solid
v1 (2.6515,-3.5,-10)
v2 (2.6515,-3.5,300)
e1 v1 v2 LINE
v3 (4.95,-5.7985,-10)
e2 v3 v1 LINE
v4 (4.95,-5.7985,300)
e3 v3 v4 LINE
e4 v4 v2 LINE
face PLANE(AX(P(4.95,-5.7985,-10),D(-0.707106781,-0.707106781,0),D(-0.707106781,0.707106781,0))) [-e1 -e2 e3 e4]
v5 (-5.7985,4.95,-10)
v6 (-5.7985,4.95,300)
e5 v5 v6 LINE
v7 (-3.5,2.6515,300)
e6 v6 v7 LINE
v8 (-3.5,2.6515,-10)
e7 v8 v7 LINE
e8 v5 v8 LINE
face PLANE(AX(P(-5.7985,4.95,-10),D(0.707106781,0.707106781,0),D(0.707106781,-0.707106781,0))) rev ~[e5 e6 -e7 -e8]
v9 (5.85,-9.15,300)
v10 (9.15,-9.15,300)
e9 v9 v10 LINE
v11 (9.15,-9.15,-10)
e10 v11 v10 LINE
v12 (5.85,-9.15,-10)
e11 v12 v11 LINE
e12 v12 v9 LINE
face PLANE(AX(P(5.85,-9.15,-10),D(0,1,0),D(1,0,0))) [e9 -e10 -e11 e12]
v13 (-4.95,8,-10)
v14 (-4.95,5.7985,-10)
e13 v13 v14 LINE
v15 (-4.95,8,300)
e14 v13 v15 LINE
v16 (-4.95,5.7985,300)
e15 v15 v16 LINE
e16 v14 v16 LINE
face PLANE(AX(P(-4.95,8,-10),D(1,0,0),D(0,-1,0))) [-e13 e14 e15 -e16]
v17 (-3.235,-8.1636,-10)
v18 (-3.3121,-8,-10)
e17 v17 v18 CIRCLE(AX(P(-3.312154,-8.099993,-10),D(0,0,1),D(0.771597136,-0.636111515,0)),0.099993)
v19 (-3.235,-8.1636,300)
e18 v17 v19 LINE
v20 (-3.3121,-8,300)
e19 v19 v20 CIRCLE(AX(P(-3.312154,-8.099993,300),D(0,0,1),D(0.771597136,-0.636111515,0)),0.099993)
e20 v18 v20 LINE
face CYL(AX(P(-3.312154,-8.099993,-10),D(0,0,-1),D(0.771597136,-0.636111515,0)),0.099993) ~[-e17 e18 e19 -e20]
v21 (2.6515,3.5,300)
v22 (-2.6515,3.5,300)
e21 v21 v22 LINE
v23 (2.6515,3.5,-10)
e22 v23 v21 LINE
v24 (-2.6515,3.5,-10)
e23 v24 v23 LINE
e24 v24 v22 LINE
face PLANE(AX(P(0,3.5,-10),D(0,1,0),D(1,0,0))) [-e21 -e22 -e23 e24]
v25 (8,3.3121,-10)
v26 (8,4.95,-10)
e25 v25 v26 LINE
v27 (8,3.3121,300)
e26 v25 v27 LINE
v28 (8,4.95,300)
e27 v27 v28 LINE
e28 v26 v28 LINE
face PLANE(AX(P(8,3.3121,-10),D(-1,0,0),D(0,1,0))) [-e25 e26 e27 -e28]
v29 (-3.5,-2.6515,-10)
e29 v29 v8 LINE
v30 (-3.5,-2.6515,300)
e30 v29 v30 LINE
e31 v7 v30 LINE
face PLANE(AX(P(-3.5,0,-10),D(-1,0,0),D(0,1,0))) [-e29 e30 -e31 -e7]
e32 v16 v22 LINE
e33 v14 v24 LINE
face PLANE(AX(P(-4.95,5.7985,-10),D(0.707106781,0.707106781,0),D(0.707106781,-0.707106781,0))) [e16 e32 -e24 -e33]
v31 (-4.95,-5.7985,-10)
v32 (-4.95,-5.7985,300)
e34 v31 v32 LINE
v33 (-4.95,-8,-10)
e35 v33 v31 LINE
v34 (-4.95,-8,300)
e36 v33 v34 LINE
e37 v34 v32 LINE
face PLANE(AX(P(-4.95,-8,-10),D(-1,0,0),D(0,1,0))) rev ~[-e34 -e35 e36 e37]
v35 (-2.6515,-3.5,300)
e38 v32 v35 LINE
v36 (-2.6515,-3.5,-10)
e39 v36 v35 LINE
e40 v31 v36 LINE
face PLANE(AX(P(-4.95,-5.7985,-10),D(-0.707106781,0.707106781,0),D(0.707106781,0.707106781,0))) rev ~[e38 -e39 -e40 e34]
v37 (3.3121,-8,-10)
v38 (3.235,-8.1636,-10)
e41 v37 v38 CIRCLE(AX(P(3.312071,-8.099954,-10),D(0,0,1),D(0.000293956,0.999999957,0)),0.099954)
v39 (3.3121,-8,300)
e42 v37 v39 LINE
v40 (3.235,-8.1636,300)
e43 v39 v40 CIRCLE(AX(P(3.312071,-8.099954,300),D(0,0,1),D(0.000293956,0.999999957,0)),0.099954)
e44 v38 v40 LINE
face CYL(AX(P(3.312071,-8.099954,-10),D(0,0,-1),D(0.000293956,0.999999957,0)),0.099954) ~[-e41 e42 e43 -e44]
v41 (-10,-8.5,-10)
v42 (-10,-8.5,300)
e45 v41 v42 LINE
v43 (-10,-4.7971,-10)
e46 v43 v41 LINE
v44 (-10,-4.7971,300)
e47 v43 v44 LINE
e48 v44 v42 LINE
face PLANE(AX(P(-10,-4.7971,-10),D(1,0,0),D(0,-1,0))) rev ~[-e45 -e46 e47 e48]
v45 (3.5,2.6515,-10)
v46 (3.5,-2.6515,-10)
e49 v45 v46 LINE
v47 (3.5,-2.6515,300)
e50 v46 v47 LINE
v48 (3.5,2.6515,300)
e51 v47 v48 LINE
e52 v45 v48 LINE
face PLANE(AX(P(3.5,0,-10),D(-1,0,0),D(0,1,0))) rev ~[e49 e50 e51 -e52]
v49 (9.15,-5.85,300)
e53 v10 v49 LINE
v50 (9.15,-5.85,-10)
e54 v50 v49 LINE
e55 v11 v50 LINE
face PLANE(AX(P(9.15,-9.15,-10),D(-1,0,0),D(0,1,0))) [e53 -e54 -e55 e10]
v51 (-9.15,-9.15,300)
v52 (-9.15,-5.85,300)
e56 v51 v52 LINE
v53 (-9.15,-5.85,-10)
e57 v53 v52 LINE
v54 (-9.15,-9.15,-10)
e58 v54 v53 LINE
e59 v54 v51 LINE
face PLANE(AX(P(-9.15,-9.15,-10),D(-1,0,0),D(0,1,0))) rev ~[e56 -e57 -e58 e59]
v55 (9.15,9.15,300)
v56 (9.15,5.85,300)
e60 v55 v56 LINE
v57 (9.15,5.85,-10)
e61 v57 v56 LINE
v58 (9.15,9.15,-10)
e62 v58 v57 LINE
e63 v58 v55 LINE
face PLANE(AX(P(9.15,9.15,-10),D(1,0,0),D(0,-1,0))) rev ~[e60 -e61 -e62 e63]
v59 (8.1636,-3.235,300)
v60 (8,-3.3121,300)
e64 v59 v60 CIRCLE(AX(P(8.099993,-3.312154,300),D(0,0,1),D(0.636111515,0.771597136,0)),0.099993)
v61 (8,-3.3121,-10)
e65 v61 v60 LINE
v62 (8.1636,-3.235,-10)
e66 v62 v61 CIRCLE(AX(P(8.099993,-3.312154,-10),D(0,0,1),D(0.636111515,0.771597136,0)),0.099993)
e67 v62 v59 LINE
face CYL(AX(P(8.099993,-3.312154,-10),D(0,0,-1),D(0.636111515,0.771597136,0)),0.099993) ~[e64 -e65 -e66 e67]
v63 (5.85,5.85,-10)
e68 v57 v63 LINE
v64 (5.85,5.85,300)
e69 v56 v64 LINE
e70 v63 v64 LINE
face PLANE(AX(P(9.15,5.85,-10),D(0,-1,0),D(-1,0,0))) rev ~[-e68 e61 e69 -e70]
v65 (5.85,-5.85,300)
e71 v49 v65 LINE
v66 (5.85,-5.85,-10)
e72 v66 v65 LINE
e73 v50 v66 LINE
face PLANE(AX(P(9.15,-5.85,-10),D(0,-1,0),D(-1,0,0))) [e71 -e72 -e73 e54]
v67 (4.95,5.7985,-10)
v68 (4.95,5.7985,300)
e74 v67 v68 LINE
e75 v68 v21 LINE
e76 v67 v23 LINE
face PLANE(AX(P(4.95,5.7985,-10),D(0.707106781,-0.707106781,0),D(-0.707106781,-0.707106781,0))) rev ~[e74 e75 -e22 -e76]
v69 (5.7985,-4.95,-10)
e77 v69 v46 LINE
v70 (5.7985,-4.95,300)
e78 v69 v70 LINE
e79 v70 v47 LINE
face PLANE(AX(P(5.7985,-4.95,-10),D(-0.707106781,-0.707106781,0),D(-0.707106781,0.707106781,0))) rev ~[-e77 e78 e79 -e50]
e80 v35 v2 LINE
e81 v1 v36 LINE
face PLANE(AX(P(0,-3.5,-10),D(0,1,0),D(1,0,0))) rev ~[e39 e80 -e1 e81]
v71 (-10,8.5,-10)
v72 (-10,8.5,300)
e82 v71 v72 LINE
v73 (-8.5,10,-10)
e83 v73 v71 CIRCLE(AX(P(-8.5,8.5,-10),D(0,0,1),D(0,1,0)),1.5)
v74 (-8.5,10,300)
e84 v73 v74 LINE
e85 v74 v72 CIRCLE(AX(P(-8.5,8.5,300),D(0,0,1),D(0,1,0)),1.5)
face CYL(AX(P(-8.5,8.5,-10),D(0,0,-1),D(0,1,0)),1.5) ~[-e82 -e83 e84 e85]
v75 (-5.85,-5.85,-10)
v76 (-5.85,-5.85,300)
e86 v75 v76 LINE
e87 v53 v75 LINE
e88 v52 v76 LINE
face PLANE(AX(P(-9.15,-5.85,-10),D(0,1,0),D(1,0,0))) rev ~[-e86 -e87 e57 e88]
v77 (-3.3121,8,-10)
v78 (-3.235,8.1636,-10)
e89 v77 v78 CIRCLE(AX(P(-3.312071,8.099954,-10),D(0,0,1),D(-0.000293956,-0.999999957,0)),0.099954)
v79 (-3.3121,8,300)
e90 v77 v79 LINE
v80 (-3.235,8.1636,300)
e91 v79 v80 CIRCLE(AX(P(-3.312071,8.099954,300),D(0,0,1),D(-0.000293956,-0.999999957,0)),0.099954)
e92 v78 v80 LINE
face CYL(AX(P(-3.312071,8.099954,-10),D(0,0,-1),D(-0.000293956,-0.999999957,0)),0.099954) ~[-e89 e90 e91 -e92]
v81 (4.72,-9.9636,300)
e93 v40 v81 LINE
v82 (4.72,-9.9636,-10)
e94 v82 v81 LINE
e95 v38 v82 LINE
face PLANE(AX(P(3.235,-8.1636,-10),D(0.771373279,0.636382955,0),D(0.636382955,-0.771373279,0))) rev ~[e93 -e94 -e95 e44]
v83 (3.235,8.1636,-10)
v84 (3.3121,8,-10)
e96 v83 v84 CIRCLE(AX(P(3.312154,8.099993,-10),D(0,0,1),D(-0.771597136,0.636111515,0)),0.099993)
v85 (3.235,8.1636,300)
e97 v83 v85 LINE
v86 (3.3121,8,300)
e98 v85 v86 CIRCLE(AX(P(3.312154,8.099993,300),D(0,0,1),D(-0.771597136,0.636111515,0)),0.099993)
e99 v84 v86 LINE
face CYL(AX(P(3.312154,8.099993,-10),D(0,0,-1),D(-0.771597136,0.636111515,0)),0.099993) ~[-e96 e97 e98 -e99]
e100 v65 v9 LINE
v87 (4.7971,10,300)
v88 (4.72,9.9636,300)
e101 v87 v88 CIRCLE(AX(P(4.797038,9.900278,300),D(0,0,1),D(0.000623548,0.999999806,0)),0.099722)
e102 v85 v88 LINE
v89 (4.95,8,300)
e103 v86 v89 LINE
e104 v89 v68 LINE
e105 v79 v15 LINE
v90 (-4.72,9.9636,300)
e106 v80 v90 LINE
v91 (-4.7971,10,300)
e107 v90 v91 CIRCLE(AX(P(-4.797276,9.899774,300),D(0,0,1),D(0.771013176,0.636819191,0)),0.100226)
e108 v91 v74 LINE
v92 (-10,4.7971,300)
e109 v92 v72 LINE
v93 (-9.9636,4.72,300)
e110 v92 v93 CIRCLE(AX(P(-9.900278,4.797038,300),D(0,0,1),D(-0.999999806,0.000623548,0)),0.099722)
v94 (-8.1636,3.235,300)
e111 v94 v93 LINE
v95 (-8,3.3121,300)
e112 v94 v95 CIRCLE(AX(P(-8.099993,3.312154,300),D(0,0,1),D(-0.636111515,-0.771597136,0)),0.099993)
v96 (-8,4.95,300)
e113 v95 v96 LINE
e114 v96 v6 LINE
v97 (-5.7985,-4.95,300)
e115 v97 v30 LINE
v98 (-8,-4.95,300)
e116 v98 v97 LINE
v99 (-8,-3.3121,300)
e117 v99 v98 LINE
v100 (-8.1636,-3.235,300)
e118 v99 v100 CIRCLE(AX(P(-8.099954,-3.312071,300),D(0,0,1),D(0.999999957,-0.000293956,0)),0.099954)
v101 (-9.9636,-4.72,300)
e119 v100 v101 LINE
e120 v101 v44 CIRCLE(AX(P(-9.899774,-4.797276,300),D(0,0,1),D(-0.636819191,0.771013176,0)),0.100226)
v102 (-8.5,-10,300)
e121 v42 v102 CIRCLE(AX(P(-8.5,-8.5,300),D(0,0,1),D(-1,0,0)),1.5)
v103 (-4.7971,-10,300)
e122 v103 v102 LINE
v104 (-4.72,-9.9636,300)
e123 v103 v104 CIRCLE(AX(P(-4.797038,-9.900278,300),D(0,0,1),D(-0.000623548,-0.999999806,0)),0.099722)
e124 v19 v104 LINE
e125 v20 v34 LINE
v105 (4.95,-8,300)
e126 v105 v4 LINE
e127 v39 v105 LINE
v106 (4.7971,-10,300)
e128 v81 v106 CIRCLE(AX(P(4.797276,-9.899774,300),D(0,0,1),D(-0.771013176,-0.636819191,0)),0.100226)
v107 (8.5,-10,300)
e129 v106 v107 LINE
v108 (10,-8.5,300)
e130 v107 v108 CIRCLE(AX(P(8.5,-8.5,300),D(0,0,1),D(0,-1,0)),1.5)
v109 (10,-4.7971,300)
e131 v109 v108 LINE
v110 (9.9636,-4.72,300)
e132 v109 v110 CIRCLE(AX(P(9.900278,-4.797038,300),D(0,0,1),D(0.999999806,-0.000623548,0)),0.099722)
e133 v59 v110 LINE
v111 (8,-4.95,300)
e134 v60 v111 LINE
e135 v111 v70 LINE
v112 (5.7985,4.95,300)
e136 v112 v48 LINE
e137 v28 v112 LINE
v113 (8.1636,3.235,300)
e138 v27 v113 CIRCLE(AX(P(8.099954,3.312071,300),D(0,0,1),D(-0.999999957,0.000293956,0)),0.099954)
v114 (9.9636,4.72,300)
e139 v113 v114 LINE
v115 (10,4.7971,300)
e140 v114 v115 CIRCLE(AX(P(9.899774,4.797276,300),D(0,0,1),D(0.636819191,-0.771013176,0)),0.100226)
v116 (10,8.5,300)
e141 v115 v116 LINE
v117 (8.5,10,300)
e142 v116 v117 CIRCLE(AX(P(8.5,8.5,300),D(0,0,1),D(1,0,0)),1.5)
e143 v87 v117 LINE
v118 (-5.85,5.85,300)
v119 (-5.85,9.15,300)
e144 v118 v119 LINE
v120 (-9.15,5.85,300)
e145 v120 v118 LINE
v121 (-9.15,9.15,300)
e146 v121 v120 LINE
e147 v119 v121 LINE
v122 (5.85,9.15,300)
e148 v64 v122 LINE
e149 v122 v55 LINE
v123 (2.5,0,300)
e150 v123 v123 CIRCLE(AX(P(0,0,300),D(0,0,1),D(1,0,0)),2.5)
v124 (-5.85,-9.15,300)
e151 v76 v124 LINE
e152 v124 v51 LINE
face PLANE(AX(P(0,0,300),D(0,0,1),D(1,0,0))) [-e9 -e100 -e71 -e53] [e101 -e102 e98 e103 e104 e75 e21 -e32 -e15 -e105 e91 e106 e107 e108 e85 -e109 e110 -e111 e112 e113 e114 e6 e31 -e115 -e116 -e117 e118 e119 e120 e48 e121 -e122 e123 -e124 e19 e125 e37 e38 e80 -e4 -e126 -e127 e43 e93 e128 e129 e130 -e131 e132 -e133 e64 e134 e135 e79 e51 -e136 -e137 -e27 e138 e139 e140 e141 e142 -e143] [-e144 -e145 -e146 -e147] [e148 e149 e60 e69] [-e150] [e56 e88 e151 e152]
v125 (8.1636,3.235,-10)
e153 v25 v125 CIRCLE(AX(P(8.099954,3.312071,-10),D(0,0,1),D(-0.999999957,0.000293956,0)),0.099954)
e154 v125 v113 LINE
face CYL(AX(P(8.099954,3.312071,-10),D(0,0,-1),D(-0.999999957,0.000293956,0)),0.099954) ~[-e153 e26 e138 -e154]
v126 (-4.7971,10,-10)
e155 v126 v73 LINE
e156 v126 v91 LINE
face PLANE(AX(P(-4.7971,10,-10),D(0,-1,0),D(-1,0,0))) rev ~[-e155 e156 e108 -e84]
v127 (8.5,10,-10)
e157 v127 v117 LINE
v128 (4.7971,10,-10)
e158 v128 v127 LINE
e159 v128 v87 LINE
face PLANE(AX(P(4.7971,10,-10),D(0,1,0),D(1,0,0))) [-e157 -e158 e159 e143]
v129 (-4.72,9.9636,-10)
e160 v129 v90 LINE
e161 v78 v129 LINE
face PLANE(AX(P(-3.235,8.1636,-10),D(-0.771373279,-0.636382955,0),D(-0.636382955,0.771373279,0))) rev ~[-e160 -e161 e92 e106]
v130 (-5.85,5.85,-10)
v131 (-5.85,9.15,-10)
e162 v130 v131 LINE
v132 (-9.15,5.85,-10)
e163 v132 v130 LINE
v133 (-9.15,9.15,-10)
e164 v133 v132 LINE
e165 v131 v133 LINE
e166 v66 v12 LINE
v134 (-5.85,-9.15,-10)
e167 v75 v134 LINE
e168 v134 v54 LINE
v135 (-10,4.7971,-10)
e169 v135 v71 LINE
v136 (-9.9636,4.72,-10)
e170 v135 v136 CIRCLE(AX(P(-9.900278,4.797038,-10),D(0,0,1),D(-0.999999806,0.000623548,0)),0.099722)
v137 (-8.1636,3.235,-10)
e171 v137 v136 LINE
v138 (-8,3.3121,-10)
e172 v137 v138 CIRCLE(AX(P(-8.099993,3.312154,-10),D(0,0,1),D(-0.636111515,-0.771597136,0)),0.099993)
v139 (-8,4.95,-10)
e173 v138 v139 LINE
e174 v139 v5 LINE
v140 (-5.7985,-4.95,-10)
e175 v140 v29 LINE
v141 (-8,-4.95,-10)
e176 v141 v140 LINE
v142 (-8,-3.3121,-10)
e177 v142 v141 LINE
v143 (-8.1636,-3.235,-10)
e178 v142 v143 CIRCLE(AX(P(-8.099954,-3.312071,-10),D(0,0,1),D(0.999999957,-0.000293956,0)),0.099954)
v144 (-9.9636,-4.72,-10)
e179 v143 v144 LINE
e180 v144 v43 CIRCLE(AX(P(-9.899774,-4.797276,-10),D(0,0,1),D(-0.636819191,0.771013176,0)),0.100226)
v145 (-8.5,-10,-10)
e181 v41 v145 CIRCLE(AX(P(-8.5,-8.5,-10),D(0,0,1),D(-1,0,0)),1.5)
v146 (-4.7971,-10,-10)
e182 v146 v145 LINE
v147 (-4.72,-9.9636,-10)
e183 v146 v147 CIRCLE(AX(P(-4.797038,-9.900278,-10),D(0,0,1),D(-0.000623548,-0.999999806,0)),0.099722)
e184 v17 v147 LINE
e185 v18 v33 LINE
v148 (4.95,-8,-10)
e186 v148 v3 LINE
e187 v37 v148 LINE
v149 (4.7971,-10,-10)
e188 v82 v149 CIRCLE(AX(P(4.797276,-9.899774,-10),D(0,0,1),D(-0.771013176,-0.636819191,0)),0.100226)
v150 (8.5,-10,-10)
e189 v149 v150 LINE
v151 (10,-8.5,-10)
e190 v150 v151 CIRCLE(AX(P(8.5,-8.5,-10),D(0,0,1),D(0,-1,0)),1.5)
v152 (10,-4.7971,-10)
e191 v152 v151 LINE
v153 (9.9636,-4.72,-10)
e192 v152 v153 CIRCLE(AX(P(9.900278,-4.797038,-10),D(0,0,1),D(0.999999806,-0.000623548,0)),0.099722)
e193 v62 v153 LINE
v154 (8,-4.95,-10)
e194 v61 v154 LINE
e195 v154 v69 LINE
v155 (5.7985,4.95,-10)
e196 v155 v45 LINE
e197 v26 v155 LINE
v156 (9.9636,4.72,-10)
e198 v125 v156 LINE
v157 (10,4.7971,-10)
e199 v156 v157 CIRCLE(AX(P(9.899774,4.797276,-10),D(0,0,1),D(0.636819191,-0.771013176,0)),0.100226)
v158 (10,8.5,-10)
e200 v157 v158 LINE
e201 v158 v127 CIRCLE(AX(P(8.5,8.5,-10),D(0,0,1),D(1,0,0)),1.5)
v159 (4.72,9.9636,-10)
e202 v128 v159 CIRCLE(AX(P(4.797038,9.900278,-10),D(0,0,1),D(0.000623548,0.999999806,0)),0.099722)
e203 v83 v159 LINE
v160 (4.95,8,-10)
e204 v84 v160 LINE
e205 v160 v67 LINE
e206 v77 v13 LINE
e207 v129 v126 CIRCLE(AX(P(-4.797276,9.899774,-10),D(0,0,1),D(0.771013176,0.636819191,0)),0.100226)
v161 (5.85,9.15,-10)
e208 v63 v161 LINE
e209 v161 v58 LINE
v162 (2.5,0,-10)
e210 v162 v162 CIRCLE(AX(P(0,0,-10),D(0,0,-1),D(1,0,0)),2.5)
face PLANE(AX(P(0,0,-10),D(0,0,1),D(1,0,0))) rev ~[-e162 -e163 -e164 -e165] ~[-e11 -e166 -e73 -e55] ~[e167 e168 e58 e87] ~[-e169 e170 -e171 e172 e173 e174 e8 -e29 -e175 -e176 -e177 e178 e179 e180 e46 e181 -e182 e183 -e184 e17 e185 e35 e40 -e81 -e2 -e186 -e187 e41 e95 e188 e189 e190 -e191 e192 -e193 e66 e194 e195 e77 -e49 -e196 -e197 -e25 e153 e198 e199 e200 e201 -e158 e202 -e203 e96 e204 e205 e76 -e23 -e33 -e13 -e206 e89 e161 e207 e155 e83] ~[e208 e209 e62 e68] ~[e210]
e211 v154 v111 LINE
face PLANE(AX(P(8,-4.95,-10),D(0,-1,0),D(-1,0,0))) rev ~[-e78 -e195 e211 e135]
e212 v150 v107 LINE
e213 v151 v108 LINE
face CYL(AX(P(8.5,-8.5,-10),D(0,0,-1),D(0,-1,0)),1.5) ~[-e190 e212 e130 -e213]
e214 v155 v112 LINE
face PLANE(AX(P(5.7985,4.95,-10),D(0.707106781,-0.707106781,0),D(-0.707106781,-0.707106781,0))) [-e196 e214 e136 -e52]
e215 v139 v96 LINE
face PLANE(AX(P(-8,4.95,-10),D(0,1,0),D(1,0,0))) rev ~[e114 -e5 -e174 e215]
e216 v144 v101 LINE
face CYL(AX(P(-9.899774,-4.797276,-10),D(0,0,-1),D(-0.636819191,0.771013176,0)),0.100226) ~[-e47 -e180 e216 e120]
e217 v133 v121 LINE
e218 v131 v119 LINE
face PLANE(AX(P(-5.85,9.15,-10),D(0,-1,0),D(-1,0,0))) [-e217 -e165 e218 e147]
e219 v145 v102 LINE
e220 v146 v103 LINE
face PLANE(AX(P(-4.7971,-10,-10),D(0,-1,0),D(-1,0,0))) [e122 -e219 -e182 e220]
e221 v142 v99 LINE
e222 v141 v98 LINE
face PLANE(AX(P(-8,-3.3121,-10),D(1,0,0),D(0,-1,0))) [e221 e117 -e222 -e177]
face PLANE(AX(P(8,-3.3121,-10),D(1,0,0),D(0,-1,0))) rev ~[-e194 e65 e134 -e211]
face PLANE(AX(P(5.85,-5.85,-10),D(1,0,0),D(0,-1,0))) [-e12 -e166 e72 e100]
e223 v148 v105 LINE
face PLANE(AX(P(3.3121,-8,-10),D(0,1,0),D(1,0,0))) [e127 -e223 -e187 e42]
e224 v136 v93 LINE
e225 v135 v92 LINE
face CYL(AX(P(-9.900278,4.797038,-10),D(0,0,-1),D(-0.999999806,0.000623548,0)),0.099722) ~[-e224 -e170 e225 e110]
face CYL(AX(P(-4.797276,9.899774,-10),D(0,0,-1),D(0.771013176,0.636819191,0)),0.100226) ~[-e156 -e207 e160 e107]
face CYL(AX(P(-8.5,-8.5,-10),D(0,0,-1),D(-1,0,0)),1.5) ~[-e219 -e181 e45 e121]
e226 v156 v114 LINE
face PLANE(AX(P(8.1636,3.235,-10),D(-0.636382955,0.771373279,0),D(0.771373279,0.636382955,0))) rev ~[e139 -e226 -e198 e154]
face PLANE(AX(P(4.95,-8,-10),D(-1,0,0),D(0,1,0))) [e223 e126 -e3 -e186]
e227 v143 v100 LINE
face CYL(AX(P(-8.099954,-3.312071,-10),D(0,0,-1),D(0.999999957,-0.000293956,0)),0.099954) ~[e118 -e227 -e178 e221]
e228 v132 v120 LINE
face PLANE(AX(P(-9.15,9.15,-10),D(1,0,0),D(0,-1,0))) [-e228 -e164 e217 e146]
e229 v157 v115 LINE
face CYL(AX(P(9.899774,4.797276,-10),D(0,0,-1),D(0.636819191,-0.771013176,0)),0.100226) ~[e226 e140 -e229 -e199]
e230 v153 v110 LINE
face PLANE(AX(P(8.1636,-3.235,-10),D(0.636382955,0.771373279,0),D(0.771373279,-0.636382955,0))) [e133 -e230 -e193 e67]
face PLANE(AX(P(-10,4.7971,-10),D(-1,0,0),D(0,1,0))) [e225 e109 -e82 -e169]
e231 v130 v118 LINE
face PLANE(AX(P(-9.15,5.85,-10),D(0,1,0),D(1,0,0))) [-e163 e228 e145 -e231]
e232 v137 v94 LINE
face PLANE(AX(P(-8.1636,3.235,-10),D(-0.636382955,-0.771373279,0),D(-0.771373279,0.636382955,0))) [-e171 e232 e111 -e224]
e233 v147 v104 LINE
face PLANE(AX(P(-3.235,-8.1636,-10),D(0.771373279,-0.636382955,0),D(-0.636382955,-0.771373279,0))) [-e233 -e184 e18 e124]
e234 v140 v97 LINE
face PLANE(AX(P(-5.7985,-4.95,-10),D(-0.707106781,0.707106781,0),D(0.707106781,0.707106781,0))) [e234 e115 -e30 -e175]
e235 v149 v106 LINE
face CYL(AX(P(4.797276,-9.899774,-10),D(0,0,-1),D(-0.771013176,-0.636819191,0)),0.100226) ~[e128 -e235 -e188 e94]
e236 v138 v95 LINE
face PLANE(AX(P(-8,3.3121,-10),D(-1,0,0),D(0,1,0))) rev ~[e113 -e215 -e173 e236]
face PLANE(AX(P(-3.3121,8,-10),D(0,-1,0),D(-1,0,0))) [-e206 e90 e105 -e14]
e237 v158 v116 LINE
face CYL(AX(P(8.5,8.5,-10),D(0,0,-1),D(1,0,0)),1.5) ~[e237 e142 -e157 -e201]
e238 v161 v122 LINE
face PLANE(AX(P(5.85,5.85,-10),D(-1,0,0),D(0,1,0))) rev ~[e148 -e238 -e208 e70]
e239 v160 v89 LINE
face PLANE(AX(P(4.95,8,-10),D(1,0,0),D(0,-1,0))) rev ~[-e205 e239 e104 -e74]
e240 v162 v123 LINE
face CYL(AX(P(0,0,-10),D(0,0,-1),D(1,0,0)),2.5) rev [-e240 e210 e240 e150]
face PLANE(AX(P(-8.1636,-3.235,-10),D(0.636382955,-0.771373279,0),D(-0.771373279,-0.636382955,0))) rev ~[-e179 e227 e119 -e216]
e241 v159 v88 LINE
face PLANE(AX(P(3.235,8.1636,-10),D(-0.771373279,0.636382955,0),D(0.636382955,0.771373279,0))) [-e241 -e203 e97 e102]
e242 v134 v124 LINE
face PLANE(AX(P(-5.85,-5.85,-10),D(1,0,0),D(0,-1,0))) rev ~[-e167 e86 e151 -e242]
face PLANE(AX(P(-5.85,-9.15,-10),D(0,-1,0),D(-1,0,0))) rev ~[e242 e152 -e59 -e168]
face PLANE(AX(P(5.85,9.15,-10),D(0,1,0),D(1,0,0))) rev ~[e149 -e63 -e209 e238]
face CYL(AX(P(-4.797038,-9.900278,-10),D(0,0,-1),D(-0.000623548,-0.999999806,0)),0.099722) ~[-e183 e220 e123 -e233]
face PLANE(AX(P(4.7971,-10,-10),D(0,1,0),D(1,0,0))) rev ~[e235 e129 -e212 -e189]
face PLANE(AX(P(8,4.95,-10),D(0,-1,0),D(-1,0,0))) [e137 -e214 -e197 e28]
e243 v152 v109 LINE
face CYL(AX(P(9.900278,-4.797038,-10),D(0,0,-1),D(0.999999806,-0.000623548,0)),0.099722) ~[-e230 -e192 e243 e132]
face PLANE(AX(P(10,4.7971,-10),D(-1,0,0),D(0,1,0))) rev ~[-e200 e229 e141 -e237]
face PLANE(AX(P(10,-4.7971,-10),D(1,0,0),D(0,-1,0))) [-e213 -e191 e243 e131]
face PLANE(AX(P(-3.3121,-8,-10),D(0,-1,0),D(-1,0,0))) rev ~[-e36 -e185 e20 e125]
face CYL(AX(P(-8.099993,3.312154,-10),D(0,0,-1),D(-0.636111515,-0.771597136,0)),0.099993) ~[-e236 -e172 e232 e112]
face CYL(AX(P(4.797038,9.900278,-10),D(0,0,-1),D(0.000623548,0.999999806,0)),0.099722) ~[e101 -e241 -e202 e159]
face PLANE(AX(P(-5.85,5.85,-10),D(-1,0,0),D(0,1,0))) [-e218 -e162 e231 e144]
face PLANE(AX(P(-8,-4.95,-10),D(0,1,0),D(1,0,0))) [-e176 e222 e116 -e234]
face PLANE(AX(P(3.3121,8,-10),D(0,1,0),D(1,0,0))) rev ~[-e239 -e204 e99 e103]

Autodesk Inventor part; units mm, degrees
ref_plane "Начальная плоскость" through (0, 0, -10) normal (0, 0, 1) x (1, 0, 0)
ref_plane "Конечная плоскость" through (0, 0, 300) normal (0, 0, 1) x (1, 0, 0)
sketch "Эскиз" plane through (0, 0, 0) normal (0, 0, 1) x (1, 0, 0)
  line L0 (-14.4349, 0) -> (14.4349, 0) projected
  line L1 (0, -14) -> (0, 14) projected
  line L2 (0, 0) -> (7.5, 7.5) construction
  circle A0 centre (7.5, 7.5) radius 1.65 construction
  line L3 (5.85, 9.15) -> (9.15, 9.15)
  line L4 (9.15, 9.15) -> (9.15, 5.85)
  line L5 (9.15, 5.85) -> (5.85, 5.85)
  line L6 (5.85, 5.85) -> (5.85, 9.15)
  line L7 (3.235, 8.1636) -> (4.72, 9.9636)
  line L8 (4.7971, 10) -> (8.5, 10)
  line L9 (3.3121, 8) -> (4.95, 8)
  line L10 (4.95, 8) -> (4.95, 5.7985)
  line L11 (4.95, 5.7985) -> (2.6515, 3.5)
  line L12 (0, 3.5) -> (2.6515, 3.5)
  circle A1 centre (0, 0) radius 2.5
  line L13 (8.1636, 3.235) -> (9.9636, 4.72)
  line L14 (10, 4.7971) -> (10, 8.5)
  line L15 (8, 3.3121) -> (8, 4.95)
  line L16 (8, 4.95) -> (5.7985, 4.95)
  line L17 (5.7985, 4.95) -> (3.5, 2.6515)
  line L18 (3.5, 0) -> (3.5, 2.6515)
  arc A2 (10, 8.5) -> (8.5, 10) centre (8.5, 8.5) ccw
  line L19 (0, 0) -> (-7.5, 7.5) construction
  circle A3 centre (-7.5, 7.5) radius 1.65 construction
  line L20 (-5.85, 9.15) -> (-9.15, 9.15)
  line L21 (-9.15, 9.15) -> (-9.15, 5.85)
  line L22 (-9.15, 5.85) -> (-5.85, 5.85)
  line L23 (-5.85, 5.85) -> (-5.85, 9.15)
  line L24 (-3.235, 8.1636) -> (-4.72, 9.9636)
  line L25 (-4.7971, 10) -> (-8.5, 10)
  line L26 (-3.3121, 8) -> (-4.95, 8)
  line L27 (-4.95, 8) -> (-4.95, 5.7985)
  line L28 (-4.95, 5.7985) -> (-2.6515, 3.5)
  line L29 (0, 3.5) -> (-2.6515, 3.5)
  line L30 (-3.5, 0) -> (-3.5, 2.6515)
  line L31 (-5.7985, 4.95) -> (-3.5, 2.6515)
  line L32 (-8, 4.95) -> (-5.7985, 4.95)
  line L33 (-8, 3.3121) -> (-8, 4.95)
  line L34 (-8.1636, 3.235) -> (-9.9636, 4.72)
  line L35 (-10, 4.7971) -> (-10, 8.5)
  arc A4 (-8.5, 10) -> (-10, 8.5) centre (-8.5, 8.5) ccw
  line L36 (0, 14) -> (0, -14)
  line L37 (0, 0) -> (7.5, -7.5) construction
  circle A5 centre (7.5, -7.5) radius 1.65 construction
  line L38 (5.85, -9.15) -> (9.15, -9.15)
  line L39 (9.15, -9.15) -> (9.15, -5.85)
  line L40 (9.15, -5.85) -> (5.85, -5.85)
  line L41 (5.85, -5.85) -> (5.85, -9.15)
  line L42 (3.235, -8.1636) -> (4.72, -9.9636)
  line L43 (4.7971, -10) -> (8.5, -10)
  line L44 (3.3121, -8) -> (4.95, -8)
  line L45 (4.95, -8) -> (4.95, -5.7985)
  line L46 (4.95, -5.7985) -> (2.6515, -3.5)
  line L47 (0, -3.5) -> (2.6515, -3.5)
  line L48 (3.5, 0) -> (3.5, -2.6515)
  line L49 (5.7985, -4.95) -> (3.5, -2.6515)
  line L50 (8, -4.95) -> (5.7985, -4.95)
  line L51 (8, -3.3121) -> (8, -4.95)
  line L52 (8.1636, -3.235) -> (9.9636, -4.72)
  line L53 (10, -4.7971) -> (10, -8.5)
  arc A6 (8.5, -10) -> (10, -8.5) centre (8.5, -8.5) ccw
  line L54 (0, 0) -> (-7.5, -7.5) construction
  line L55 (-4.95, -8) -> (-4.95, -5.7985)
  line L56 (-3.3121, -8) -> (-4.95, -8)
  line L57 (-5.7985, -4.95) -> (-3.5, -2.6515)
  line L58 (-4.95, -5.7985) -> (-2.6515, -3.5)
  line L59 (-3.5, 0) -> (-3.5, -2.6515)
  line L60 (0, -3.5) -> (-2.6515, -3.5)
  circle A7 centre (-7.5, -7.5) radius 1.65 construction
  line L61 (-5.85, -5.85) -> (-5.85, -9.15)
  line L62 (-5.85, -9.15) -> (-9.15, -9.15)
  line L63 (-9.15, -9.15) -> (-9.15, -5.85)
  line L64 (-9.15, -5.85) -> (-5.85, -5.85)
  line L65 (-3.235, -8.1636) -> (-4.72, -9.9636)
  line L66 (-8, -4.95) -> (-5.7985, -4.95)
  line L67 (-8, -3.3121) -> (-8, -4.95)
  line L68 (-8.1636, -3.235) -> (-9.9636, -4.72)
  line L69 (-4.7971, -10) -> (-8.5, -10)
  line L70 (-10, -4.7971) -> (-10, -8.5)
  arc A8 (-10, -8.5) -> (-8.5, -10) centre (-8.5, -8.5) ccw
  arc A9 (3.235, 8.1636) -> (3.3121, 8) centre (3.3121, 8.1) ccw
  arc A10 (4.7971, 10) -> (4.72, 9.9636) centre (4.7971, 9.9) ccw
  arc A11 (8, 3.3121) -> (8.1636, 3.235) centre (8.1, 3.3121) ccw
  arc A12 (9.9636, 4.72) -> (10, 4.7971) centre (9.9, 4.7971) ccw
  arc A13 (-3.3121, 8) -> (-3.235, 8.1636) centre (-3.3121, 8.1) ccw
  arc A14 (-4.72, 9.9636) -> (-4.7971, 10) centre (-4.7971, 9.9) ccw
  arc A15 (-8.1636, 3.235) -> (-8, 3.3121) centre (-8.1, 3.3121) ccw
  arc A16 (-10, 4.7971) -> (-9.9636, 4.72) centre (-9.9, 4.7971) ccw
  arc A17 (-8, -3.3121) -> (-8.1636, -3.235) centre (-8.1, -3.3121) ccw
  arc A18 (-9.9636, -4.72) -> (-10, -4.7971) centre (-9.9, -4.7971) ccw
  arc A19 (-3.235, -8.1636) -> (-3.3121, -8) centre (-3.3121, -8.1) ccw
  arc A20 (-4.7971, -10) -> (-4.72, -9.9636) centre (-4.7971, -9.9) ccw
  arc A21 (4.72, -9.9636) -> (4.7971, -10) centre (4.7971, -9.9) ccw
  arc A22 (3.3121, -8) -> (3.235, -8.1636) centre (3.3121, -8.1) ccw
  arc A23 (8.1636, -3.235) -> (8, -3.3121) centre (8.1, -3.3121) ccw
  arc A24 (10, -4.7971) -> (9.9636, -4.72) centre (9.9, -4.7971) ccw
  point P0 (3.1, 8)
  point P1 (4.75, 10)
  point P2 (7.5, 9.15)
  point P3 (8, 3.1)
  point P4 (10, 4.75)
  point P5 (7.5, 5.85)
  point P6 (9.15, 7.5)
  point P7 (-3.1, 8)
  point P8 (-4.75, 10)
  point P9 (-7.5, 9.15)
  point P10 (-8, 3.1)
  point P11 (-10, 4.75)
  point P12 (-7.5, 5.85)
  point P13 (-9.15, 7.5)
  point P14 (3.1, -8)
  point P15 (4.75, -10)
  point P16 (7.5, -9.15)
  point P17 (8, -3.1)
  point P18 (10, -4.75)
  point P19 (7.5, -5.85)
  point P20 (9.15, -7.5)
  point P21 (-3.1, -8)
  point P22 (-7.5, -5.85)
  point P23 (-7.5, -9.15)
  point P24 (-9.15, -7.5)
  point P25 (-4.75, -10)
  point P26 (-8, -3.1)
  point P27 (-10, -4.75)
  dimension "d0" = 45
  dimension "d1" = 3.3
  dimension "d2" = 1.5
  dimension "d3" = 1.2
  dimension "d4" = 5
  dimension "d5" = 6.5
  dimension "d6" = 15
  dimension "d7" = 20
  dimension "d8" = 9.9
  dimension "d9" = 9.5
  dimension "d10" = 6.2
  dimension "d11" = 2
  dimension "d18" = 0.1
  dimension "d19" = 0.1
extrude "Тело" add sketch "Эскиз" along normal up to surface (310 mm away) from surface at -10 contours A1 L1 L12 L11 L10 L9 A9 L7 A10 L8 A2 L14 A12 L13 A11 L15 L16 L17 L18 L0 | L0 L48 L49 L50 L51 A23 L52 A24 L53 A6 L43 A21 L42 A22 L44 L45 L46 L47 L1 A1 | A1 L0 L30 L31 L32 L33 A15 L34 A16 L35 A4 L25 A14 L24 A13 L26 L27 L28 L29 L1 | L1 L60 L58 L55 L56 A19 L65 A20 L69 A8 L70 A18 L68 A17 L67 L66 L57 L59 L0 A1
sketch "Эскиз2" plane through (0, 0, 0) normal (0, 0, 1) x (1, 0, 0)
  line L0 (0, 0) -> (10, 0)
ref_plane "РабПлоскость3" through (0, 0, 0) normal (0, -1, 0) x (1, 0, 0)
sketch "Эскиз3" plane through (0, 0, 0) normal (0, -1, 0) x (1, 0, 0)
  line L0 (-2, -10) -> (12, -10)
  line L1 (-2, 300) -> (12, 300)
  dimension "d25" = 310
ref_plane "РабПлоскость6" through (0, 0, 300) normal (0, 0, 1) x (1, 0, 0)
split "Разделение3" plane through (0, 0, 300) removes the side toward (0, 0, 1)
ref_plane "РабПлоскость7" through (590, 0, -10) normal (0, 0, -1) x (-1, 0, 0)
split "Разделение4" plane through (590, 0, -10) removes the side toward (0, 0, -1)
ref_plane "РабПлоскость8" through (0, 0, -10) normal (0, 0, -1) x (-1, 0, 0)
split "Разделение5" plane through (0, 0, -10) removes the side toward (0, 0, -1)
ref_plane "РабПлоскость9" through (0, 0, 300) normal (0, 0, 1) x (1, 0, 0)
split "Разделение6" plane through (0, 0, 300) removes the side toward (0, 0, 1)
properties part number "короткая палка"
